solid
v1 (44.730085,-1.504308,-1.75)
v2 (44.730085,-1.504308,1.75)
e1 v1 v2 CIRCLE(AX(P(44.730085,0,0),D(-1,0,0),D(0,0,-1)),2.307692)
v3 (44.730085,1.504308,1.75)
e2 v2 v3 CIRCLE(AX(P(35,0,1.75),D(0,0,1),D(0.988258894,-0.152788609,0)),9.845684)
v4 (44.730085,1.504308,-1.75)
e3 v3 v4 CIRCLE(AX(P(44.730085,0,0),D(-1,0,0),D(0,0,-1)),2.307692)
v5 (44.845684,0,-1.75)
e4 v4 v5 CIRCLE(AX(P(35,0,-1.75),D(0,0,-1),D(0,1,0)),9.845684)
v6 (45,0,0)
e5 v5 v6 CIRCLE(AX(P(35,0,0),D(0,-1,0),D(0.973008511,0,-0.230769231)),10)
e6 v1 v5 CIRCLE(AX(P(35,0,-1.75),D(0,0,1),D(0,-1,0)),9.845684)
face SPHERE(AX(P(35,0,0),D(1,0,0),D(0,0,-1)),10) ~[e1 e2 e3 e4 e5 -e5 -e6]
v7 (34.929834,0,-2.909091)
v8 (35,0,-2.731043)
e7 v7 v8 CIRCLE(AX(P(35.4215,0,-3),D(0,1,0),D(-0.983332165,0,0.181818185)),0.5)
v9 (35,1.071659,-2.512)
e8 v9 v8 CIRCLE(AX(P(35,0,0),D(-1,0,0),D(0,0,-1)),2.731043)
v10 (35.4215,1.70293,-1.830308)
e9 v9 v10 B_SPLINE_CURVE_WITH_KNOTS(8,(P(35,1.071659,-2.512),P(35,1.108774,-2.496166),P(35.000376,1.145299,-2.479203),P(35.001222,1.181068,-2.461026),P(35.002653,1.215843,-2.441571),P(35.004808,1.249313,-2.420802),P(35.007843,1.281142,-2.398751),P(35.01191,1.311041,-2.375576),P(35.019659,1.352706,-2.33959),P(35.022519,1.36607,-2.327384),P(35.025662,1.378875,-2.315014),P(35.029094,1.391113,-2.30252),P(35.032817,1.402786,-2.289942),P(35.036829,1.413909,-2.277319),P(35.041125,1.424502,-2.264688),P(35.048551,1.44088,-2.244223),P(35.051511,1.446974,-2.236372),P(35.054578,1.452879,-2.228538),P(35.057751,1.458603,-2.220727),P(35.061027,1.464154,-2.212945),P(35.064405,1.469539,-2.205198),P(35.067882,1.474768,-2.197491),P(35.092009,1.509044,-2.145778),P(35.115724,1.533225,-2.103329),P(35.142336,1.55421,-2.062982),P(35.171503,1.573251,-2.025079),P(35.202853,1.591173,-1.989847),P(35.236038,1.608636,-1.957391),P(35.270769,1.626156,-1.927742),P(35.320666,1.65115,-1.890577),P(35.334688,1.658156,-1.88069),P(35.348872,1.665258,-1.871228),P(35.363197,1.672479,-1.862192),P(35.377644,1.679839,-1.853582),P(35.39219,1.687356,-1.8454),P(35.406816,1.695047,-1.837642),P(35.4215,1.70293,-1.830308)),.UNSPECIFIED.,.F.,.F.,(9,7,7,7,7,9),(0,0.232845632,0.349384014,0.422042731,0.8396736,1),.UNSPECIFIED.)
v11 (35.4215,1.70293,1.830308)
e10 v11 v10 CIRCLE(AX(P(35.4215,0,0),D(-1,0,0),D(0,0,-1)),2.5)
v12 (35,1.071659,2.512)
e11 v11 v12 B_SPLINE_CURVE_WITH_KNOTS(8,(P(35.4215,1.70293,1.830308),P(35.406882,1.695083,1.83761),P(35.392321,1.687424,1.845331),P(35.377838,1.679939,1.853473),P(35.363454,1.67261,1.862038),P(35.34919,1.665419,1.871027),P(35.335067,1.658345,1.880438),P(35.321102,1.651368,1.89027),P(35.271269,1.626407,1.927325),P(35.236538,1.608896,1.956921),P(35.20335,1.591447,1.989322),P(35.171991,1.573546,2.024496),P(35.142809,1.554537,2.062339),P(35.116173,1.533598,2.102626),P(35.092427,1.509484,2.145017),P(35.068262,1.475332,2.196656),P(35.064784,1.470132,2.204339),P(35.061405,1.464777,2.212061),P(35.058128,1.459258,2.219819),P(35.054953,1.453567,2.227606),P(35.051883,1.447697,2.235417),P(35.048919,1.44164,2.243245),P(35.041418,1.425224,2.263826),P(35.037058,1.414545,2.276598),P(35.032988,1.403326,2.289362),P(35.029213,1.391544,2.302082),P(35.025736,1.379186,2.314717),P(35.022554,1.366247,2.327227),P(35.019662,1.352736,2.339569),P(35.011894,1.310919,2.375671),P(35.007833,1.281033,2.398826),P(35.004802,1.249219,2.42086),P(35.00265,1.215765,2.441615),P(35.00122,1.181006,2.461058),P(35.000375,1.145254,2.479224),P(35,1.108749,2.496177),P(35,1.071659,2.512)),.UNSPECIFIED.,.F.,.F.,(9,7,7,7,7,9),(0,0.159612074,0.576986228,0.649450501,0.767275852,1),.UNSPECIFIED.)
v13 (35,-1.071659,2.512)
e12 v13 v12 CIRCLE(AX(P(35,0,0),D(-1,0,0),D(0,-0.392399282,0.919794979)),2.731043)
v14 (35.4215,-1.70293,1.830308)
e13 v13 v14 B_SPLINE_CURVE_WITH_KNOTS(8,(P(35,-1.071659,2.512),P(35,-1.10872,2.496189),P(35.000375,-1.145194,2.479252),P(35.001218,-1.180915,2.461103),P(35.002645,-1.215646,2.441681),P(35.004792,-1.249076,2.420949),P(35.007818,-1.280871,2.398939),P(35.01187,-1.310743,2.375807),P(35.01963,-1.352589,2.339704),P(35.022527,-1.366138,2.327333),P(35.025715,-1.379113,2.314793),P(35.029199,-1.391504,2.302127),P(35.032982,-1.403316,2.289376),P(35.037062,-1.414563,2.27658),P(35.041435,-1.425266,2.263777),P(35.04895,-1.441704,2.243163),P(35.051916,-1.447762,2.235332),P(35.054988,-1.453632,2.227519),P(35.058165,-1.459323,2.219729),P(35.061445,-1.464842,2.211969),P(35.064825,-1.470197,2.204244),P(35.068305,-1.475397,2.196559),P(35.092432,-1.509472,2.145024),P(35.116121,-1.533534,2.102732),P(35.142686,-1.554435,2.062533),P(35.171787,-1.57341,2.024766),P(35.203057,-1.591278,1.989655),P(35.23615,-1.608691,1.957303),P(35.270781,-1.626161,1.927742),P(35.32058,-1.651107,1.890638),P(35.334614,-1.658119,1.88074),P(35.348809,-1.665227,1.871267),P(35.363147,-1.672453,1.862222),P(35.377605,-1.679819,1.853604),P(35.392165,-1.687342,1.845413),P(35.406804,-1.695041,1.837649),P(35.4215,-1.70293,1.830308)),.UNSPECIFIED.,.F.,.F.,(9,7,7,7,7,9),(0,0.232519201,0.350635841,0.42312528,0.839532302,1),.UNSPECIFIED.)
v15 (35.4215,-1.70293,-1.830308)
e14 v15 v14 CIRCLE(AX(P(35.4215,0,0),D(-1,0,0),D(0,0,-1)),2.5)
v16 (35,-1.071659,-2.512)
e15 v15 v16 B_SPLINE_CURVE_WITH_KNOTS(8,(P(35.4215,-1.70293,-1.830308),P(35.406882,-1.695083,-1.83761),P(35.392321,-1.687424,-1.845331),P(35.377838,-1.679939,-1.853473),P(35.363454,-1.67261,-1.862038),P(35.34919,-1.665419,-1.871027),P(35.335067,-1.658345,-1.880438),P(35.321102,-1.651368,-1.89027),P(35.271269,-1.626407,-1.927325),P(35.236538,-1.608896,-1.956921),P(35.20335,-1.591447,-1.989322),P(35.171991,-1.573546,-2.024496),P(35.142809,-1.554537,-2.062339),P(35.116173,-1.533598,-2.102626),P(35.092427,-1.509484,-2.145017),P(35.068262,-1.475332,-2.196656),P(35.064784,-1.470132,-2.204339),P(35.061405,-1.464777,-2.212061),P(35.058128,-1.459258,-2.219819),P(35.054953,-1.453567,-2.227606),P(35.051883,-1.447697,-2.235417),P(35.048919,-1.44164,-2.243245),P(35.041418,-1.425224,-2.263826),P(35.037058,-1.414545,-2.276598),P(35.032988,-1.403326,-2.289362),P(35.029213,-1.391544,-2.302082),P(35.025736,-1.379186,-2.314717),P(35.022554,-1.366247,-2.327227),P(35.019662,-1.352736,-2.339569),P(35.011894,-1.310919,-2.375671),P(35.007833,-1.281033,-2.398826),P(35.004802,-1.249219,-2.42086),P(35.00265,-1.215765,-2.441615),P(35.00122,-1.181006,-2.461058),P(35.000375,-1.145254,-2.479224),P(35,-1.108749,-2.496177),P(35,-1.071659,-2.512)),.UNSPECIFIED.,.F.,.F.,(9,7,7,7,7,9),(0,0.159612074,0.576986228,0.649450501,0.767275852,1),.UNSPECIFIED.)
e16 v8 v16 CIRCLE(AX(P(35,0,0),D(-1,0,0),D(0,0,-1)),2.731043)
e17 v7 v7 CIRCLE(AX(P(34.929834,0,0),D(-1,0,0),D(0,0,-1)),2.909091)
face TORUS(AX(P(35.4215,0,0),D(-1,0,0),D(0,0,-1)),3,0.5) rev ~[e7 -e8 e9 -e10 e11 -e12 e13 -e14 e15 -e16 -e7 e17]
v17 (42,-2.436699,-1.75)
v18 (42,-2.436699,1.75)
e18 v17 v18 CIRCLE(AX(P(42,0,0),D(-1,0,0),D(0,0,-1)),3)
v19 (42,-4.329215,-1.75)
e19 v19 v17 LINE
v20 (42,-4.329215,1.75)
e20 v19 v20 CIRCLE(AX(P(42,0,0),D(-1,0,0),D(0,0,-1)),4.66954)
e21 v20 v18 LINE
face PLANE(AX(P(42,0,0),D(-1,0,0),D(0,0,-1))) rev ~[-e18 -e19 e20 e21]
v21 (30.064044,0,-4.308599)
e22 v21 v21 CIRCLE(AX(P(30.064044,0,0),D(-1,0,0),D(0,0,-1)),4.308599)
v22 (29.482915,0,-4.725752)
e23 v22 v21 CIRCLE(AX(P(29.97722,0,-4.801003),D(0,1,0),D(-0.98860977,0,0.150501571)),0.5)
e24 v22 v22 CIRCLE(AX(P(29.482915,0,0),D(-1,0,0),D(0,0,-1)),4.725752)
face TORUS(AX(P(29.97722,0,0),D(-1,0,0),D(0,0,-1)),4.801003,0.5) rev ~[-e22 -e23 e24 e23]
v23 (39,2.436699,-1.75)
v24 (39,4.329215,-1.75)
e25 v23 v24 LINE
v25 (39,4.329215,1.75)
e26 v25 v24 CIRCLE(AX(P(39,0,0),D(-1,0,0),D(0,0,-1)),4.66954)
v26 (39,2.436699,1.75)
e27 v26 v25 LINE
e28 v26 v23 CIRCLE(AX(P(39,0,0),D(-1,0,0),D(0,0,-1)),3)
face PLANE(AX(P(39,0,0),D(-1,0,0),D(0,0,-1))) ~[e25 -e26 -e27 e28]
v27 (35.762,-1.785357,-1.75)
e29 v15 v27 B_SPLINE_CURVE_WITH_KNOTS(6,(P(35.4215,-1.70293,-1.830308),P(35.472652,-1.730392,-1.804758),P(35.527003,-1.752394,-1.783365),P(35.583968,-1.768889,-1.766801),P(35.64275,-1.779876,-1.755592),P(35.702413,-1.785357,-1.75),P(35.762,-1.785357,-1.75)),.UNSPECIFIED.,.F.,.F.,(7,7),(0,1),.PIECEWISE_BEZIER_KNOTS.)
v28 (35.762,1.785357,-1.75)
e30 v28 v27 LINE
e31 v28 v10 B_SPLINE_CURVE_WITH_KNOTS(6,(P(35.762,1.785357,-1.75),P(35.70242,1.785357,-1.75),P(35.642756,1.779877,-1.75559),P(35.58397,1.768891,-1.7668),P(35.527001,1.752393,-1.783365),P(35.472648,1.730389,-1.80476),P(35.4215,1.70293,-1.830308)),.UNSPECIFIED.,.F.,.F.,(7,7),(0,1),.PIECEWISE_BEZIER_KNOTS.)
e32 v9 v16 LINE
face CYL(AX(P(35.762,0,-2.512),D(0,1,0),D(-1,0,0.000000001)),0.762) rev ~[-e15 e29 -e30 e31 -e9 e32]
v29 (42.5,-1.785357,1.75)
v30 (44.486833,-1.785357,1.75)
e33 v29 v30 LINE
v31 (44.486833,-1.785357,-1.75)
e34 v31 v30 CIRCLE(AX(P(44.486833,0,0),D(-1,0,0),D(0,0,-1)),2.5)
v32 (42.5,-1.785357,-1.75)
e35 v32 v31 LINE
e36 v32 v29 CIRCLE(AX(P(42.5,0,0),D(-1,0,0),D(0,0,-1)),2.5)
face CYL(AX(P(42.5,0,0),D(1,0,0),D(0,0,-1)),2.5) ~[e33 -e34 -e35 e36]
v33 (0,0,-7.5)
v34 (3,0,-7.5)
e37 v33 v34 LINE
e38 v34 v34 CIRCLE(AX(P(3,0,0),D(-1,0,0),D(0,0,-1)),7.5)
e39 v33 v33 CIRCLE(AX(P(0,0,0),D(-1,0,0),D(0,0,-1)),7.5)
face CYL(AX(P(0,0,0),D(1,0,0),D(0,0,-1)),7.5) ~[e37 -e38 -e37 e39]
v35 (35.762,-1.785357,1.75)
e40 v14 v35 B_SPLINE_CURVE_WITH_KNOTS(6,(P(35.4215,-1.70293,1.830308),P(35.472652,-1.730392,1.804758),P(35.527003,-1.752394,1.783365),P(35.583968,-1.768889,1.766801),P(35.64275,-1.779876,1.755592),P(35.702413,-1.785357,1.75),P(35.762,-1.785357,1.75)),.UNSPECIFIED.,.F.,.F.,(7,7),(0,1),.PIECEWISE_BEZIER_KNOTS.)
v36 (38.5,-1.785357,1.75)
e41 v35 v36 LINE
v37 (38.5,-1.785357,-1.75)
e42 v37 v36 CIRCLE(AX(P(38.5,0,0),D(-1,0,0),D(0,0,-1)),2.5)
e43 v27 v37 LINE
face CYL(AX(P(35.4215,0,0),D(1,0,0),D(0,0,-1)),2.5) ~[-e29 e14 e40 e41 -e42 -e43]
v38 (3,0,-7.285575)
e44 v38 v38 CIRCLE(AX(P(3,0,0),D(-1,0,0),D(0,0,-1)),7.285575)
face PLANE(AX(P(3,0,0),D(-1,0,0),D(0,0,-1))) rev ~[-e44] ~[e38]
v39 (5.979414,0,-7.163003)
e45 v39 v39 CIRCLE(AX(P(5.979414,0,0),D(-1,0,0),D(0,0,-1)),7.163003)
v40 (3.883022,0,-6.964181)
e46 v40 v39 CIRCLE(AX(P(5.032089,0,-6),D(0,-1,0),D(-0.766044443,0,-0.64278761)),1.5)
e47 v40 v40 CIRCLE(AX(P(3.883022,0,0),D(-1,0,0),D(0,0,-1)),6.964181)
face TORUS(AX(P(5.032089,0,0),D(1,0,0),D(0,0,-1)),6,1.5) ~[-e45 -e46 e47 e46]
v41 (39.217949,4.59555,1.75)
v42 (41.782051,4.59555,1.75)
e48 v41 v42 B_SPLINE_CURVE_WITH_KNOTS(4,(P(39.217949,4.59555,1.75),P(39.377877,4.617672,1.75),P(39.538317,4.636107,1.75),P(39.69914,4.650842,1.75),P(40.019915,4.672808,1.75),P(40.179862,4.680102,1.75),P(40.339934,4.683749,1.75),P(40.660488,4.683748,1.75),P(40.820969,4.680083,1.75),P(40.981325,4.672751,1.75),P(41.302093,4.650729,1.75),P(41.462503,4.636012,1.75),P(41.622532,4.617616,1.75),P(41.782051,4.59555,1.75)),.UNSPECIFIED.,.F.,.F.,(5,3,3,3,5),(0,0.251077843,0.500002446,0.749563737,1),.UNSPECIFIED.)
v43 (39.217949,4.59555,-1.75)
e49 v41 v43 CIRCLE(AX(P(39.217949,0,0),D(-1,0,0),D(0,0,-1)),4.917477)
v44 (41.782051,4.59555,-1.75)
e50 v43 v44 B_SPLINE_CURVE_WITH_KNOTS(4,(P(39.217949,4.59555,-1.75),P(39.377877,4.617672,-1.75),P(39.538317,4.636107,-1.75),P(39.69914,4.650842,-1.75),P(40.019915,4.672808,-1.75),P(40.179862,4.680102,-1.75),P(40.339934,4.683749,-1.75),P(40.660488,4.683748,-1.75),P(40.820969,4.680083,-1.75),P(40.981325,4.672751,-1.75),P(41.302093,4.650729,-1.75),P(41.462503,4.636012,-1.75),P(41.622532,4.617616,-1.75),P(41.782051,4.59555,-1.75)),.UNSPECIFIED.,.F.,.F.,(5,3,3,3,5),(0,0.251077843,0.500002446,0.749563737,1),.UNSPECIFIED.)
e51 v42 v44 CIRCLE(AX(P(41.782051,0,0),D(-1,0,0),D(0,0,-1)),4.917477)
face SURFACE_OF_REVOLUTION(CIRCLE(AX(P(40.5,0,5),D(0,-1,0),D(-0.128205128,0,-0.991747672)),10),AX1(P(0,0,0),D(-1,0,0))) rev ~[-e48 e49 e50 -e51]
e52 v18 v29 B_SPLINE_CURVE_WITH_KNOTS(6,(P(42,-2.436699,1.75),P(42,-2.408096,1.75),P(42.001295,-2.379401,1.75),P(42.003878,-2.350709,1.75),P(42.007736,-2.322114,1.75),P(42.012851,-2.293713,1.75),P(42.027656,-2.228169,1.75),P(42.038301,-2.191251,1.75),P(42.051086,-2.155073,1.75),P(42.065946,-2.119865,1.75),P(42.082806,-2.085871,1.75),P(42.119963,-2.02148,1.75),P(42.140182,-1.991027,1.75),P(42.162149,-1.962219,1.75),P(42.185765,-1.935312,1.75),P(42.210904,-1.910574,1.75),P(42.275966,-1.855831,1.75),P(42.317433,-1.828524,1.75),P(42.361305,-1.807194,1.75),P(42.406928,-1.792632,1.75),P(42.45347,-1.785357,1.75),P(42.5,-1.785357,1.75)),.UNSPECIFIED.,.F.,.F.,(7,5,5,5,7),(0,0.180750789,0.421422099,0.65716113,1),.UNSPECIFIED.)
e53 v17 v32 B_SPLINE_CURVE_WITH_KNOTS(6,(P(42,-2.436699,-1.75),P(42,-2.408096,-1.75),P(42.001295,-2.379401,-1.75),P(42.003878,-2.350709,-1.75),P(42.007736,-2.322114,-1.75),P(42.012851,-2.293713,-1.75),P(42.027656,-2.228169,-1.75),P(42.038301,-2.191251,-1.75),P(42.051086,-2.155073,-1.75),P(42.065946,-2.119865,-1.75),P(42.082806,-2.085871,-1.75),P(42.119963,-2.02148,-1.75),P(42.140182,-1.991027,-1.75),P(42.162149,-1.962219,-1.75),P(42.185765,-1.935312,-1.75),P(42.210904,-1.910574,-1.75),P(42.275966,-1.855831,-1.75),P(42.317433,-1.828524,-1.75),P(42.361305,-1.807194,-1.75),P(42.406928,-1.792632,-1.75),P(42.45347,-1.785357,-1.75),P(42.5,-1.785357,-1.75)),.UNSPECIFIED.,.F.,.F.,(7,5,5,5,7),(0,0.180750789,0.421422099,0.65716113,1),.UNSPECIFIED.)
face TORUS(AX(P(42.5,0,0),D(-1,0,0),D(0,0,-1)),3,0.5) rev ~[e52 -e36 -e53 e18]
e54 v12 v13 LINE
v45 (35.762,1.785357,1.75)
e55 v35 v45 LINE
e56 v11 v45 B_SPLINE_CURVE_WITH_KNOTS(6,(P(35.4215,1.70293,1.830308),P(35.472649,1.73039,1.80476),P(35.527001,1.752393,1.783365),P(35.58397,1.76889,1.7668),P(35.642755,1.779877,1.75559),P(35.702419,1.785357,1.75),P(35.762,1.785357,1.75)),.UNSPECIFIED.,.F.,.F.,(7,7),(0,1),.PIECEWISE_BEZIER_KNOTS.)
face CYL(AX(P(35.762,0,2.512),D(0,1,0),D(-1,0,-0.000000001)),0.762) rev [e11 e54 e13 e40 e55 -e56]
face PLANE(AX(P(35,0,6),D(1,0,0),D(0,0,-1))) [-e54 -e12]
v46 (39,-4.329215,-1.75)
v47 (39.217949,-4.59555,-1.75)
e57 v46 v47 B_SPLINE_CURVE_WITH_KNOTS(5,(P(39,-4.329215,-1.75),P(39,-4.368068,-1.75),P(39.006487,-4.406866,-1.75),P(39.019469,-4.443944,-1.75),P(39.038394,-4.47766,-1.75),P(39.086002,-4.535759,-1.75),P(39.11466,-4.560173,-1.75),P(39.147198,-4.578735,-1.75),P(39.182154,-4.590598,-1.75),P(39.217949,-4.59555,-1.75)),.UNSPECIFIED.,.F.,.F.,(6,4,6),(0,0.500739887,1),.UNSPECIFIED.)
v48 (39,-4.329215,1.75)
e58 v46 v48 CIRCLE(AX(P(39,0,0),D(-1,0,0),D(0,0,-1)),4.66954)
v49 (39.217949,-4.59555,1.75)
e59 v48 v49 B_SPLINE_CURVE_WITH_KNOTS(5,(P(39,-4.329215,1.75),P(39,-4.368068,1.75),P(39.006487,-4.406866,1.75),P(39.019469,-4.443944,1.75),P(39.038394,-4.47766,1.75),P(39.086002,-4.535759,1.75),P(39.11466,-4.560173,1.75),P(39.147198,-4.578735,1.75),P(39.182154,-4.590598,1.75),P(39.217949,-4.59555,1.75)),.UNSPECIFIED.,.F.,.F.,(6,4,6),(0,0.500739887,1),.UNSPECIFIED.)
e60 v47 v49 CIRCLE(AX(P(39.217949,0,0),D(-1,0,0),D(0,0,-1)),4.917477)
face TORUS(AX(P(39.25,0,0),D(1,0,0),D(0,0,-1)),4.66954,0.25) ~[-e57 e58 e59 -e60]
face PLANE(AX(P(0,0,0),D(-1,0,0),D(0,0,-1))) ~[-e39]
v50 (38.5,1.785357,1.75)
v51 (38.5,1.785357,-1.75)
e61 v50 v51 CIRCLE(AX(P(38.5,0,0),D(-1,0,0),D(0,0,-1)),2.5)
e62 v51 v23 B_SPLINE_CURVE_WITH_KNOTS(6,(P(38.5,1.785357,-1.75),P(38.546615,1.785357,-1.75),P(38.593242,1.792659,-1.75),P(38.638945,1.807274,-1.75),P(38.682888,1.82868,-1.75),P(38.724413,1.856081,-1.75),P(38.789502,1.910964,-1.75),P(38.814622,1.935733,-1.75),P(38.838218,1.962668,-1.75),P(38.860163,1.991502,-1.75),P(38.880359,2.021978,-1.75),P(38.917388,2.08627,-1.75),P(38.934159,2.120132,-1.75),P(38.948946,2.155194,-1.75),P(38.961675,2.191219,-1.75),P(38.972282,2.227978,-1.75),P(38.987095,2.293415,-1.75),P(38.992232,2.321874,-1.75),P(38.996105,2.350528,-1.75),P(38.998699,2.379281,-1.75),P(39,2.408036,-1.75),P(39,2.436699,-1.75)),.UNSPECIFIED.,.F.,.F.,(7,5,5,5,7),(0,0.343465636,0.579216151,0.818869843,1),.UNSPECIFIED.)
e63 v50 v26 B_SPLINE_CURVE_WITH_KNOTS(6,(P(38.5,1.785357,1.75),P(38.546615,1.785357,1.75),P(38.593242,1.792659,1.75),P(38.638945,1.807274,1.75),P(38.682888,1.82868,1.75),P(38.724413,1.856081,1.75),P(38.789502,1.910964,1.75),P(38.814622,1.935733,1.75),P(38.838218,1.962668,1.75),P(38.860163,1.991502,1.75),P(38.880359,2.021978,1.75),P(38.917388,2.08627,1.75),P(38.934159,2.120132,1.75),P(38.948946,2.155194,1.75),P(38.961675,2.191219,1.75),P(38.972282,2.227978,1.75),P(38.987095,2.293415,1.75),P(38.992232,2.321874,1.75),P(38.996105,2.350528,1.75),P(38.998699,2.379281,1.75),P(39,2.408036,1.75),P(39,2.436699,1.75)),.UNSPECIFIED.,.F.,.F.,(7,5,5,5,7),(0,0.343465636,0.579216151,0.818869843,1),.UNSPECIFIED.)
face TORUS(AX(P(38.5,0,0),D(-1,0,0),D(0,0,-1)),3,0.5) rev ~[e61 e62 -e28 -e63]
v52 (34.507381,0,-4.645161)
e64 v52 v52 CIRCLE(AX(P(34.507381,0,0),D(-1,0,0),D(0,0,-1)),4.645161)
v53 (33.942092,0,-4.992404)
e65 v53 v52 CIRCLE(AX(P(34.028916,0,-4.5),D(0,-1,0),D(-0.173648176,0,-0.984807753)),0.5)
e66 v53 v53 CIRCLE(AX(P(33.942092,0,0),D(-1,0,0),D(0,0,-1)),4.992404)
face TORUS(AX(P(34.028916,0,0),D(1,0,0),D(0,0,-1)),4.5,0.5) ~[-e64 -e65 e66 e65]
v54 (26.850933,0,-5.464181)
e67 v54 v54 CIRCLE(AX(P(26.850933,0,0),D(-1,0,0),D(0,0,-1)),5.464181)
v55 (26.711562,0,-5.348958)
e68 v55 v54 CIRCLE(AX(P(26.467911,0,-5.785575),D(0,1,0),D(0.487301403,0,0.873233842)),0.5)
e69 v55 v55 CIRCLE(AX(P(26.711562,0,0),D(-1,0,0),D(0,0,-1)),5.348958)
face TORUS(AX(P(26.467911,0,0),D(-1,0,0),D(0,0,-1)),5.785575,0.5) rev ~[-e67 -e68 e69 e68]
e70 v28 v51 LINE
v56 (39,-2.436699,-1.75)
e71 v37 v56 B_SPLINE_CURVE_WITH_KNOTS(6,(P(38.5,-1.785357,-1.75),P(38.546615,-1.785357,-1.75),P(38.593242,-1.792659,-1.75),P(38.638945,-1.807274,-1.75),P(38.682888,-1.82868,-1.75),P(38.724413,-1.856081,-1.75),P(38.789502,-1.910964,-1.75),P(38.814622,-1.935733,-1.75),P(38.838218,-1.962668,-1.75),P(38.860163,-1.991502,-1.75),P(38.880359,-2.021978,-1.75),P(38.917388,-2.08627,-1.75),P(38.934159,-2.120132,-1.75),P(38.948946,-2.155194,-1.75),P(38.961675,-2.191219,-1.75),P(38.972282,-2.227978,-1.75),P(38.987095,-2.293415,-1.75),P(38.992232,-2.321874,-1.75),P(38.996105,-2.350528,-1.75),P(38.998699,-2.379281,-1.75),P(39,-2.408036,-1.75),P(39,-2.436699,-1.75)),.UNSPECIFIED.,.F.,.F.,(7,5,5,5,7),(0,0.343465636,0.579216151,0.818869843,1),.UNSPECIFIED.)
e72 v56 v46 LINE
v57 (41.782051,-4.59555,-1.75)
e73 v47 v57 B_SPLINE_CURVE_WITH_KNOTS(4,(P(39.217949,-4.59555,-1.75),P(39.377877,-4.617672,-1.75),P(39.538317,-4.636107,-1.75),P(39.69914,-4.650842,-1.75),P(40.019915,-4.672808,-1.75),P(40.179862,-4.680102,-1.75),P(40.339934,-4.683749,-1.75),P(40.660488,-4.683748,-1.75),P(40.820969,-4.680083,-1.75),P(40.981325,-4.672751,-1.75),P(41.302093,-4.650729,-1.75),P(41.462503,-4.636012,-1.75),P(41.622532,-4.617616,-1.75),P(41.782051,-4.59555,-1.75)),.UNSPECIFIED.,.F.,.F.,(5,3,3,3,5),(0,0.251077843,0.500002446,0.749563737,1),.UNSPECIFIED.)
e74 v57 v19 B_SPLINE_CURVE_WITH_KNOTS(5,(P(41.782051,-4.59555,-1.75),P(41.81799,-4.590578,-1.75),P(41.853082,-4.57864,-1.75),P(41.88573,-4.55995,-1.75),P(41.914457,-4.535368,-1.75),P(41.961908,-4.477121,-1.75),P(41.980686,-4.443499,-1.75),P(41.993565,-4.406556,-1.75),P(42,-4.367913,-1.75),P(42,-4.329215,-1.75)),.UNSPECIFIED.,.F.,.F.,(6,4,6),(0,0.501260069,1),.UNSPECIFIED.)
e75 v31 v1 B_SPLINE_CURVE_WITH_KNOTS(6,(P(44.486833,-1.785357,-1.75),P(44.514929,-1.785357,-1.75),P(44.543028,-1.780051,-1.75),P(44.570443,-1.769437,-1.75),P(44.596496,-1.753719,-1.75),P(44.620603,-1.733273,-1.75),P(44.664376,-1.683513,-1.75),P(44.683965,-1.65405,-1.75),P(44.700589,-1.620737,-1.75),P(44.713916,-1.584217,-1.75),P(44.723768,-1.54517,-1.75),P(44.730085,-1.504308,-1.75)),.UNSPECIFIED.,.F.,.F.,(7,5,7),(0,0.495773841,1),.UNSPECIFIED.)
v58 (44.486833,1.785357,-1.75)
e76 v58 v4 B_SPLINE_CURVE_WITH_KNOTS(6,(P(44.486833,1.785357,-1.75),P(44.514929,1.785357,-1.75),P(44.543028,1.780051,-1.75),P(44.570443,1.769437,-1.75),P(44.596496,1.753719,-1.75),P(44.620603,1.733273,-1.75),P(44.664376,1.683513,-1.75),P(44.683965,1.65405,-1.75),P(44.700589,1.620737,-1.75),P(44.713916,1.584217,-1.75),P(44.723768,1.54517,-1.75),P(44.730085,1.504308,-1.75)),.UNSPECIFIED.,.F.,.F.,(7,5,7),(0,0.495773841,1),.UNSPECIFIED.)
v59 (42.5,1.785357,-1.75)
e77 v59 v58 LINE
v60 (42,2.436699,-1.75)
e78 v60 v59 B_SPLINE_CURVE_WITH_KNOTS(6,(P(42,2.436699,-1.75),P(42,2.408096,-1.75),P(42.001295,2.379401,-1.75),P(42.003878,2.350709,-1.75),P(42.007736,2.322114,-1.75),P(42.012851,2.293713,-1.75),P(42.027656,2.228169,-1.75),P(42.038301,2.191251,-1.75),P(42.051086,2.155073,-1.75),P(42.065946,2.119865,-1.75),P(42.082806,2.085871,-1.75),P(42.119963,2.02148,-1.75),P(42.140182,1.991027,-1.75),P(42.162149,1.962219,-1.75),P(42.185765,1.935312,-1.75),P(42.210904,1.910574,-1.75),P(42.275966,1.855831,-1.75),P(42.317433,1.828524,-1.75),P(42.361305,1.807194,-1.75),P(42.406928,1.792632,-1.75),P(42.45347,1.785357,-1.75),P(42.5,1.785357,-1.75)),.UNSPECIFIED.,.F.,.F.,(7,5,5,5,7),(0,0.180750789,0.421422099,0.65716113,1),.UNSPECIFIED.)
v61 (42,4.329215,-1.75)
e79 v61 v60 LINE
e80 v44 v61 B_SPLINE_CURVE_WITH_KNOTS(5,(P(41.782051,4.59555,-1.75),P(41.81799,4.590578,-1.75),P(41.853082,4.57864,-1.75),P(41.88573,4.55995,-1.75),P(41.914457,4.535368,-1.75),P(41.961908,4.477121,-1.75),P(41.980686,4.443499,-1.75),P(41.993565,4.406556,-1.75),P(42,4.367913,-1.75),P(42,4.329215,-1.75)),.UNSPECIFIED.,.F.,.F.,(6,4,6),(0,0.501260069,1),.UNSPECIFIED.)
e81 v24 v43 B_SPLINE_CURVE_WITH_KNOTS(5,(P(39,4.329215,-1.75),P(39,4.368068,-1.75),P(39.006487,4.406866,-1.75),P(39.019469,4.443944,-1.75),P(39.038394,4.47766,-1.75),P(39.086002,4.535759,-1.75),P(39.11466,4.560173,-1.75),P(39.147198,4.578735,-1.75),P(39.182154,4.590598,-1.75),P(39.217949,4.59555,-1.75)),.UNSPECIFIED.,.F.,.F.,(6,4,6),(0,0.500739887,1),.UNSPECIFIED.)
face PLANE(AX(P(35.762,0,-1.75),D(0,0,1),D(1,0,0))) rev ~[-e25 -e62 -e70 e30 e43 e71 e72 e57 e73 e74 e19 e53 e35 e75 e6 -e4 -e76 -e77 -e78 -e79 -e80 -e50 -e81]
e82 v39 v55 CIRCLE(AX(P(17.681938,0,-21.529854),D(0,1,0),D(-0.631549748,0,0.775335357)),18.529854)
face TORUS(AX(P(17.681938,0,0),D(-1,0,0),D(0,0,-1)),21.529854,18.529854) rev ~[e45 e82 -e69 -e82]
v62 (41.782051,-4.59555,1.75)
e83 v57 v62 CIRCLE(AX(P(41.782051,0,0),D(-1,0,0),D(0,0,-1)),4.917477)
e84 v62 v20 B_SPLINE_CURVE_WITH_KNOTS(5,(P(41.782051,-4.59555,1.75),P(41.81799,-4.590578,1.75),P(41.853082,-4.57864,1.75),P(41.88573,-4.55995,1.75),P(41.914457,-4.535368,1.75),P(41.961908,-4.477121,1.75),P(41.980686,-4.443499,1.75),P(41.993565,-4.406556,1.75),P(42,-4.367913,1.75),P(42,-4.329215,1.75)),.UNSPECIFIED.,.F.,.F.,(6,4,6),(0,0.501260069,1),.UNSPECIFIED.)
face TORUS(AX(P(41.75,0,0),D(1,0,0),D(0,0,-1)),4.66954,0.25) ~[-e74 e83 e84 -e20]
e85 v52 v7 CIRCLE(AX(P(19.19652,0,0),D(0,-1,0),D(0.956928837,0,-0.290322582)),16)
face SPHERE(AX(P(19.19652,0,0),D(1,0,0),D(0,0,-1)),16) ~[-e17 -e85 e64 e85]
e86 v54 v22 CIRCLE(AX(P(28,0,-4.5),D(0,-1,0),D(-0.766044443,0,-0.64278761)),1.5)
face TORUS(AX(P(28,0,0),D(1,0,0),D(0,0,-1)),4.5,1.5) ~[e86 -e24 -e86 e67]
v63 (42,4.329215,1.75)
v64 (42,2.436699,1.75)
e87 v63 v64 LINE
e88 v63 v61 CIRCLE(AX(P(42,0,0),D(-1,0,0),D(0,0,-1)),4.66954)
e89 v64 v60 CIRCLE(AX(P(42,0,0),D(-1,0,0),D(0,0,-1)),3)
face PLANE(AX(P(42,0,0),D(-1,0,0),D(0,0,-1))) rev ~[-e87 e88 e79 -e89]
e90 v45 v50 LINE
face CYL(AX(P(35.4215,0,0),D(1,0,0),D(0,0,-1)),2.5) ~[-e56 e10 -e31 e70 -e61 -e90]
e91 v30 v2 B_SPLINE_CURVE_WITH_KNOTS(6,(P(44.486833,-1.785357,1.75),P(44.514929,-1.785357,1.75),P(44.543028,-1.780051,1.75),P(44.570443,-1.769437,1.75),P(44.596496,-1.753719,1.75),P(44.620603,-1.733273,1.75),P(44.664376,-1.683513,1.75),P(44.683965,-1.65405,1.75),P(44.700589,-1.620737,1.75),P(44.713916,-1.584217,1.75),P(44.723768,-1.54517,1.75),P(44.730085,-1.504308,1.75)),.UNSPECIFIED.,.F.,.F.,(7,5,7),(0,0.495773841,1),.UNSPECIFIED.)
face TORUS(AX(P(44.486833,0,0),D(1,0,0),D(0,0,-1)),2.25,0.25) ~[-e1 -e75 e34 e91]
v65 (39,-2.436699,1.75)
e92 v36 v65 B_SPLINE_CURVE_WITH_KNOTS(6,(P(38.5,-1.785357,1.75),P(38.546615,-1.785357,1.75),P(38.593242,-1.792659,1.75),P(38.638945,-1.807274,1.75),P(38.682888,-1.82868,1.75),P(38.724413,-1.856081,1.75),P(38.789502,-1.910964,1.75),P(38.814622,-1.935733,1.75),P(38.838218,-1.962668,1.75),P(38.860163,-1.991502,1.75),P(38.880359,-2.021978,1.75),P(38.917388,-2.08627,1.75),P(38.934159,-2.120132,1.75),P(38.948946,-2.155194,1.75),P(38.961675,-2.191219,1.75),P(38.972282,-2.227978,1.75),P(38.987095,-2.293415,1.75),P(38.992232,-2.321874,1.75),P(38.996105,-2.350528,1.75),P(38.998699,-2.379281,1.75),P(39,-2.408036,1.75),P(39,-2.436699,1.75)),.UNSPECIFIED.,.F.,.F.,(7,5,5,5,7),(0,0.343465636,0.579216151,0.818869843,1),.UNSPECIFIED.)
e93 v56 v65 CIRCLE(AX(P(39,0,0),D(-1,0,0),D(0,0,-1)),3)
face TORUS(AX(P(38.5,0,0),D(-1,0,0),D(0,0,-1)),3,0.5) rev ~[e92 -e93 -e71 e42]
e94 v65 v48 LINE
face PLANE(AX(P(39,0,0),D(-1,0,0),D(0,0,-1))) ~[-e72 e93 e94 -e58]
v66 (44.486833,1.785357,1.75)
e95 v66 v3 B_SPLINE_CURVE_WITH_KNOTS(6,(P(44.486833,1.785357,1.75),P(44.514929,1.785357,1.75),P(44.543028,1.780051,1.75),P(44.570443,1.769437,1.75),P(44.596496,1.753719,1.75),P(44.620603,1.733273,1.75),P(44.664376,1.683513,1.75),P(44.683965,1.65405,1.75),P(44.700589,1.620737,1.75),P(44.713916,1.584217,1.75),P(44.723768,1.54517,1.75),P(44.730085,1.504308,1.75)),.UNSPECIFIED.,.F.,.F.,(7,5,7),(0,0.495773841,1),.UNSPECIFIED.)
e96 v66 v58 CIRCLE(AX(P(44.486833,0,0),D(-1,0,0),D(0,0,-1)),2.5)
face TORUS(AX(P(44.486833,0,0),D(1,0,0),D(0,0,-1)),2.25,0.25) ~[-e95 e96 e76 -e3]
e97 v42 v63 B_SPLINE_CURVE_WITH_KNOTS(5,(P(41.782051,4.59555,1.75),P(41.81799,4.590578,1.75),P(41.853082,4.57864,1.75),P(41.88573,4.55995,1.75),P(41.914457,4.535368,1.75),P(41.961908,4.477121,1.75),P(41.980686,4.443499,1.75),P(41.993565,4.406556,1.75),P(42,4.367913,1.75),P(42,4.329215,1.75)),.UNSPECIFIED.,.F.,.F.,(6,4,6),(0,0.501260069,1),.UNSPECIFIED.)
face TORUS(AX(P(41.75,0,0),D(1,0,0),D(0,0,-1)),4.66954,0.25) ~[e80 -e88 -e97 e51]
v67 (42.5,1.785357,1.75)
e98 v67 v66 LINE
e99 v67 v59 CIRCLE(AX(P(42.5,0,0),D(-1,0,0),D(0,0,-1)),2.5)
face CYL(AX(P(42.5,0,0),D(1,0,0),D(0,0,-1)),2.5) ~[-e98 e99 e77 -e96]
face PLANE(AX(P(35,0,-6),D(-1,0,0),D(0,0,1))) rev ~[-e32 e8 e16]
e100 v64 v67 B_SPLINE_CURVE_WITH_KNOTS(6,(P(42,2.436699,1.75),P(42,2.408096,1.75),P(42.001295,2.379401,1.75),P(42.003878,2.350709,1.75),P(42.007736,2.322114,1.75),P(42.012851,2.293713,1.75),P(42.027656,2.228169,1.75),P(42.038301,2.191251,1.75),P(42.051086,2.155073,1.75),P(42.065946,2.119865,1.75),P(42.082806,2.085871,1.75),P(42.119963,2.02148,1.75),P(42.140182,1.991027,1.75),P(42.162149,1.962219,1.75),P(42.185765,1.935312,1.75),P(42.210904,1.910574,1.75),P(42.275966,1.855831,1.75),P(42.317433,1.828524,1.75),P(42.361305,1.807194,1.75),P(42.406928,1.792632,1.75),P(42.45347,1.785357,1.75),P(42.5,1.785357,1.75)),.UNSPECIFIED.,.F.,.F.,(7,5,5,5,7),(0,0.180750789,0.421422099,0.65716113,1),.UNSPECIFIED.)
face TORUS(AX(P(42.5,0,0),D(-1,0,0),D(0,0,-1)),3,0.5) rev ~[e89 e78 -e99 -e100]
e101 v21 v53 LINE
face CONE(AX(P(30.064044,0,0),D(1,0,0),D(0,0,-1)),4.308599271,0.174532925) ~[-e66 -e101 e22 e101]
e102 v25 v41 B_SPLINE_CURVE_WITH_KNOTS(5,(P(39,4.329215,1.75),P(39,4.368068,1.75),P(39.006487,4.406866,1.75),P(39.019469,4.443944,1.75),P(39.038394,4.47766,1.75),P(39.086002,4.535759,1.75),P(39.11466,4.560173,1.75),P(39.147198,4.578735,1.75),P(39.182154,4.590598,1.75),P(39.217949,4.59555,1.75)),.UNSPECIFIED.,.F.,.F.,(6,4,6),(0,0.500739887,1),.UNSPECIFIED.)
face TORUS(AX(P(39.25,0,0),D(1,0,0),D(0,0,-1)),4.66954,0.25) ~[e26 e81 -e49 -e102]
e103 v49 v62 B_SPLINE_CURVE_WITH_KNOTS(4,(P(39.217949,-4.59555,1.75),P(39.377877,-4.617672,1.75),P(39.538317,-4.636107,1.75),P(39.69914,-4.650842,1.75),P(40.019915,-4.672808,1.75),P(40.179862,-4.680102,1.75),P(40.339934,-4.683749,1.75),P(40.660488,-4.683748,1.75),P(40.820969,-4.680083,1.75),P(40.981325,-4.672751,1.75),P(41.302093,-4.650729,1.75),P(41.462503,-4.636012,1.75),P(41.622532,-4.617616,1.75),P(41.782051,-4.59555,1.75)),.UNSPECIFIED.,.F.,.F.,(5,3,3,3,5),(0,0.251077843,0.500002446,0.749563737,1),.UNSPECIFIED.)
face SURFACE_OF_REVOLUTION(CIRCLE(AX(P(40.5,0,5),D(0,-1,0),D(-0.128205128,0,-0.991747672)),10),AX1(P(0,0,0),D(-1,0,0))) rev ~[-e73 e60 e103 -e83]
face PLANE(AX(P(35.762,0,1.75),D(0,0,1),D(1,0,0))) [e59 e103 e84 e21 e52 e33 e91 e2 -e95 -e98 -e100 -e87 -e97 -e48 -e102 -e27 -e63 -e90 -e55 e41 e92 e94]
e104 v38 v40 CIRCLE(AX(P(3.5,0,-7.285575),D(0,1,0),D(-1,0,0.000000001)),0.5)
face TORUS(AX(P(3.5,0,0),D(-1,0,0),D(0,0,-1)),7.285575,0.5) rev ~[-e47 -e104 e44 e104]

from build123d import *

# Parameters (mm, degrees)
CUT_EXTRUDE1_DEPTH      = 47.233105055
CUT_EXTRUDE1_DEPTH_BACK = 47.233105055


with BuildPart() as part:
    # Sketch1 → Revolve1 (revolve)
    with BuildSketch(Plane.XY):
        with BuildLine():
            Line((0, 0), (0, -7.5))
            Line((0, -7.5), (3, -7.5))
            Line((3, -7.5), (3, -7.285575219))
            ThreePointArc((3, -7.285575219), (3.328989928, -6.815728909), (3.883022222, -6.964181415))
            ThreePointArc((3.883022222, -6.964181415), (4.890464481, -7.493299209), (5.979413508, -7.163003036))
            ThreePointArc((5.979413508, -7.163003036), (16.066763392, -3.070528449), (26.71156181, -5.348958295))
            ThreePointArc((26.71156181, -5.348958295), (26.786499921, -5.400216722), (26.850933335, -5.464181415))
            ThreePointArc((26.850933335, -5.464181415), (28.405194999, -5.944235789), (29.482914654, -4.725752361))
            ThreePointArc((29.482914654, -4.725752361), (29.685647378, -4.39481886), (30.064043628, -4.308599271))
            Line((30.064043628, -4.308599271), (33.942092256, -4.992403877))
            ThreePointArc((33.942092256, -4.992403877), (34.290622077, -4.926040033), (34.507380763, -4.64516129))
            ThreePointArc((34.507380763, -4.64516129), (34.742859832, -3.783027658), (34.929834027, -2.909090909))
            ThreePointArc((34.929834027, -2.909090909), (35.101699036, -2.615646943), (35.42150011, -2.5))
            Line((35.42150011, -2.5), (38.5, -2.5))
            ThreePointArc((38.5, -2.5), (38.853553391, -2.646446609), (39, -3))
            Line((39, -3), (39, -4.669539803))
            ThreePointArc((39, -4.669539803), (39.062233096, -4.834596126), (39.217948718, -4.917476721))
            ThreePointArc((39.217948718, -4.917476721), (40.5, -5), (41.782051282, -4.917476721))
            ThreePointArc((41.782051282, -4.917476721), (41.937766904, -4.834596126), (42, -4.669539803))
            Line((42, -4.669539803), (42, -3))
            ThreePointArc((42, -3), (42.146446609, -2.646446609), (42.5, -2.5))
            Line((42.5, -2.5), (44.486832981, -2.5))
            ThreePointArc((44.486832981, -2.5), (44.641876399, -2.446116135), (44.730085108, -2.307692308))
            ThreePointArc((44.730085108, -2.307692308), (44.932292059, -1.161711866), (45, 0))
            Line((45, 0), (0, 0))
        make_face()
    revolve(axis=Axis((0, 0, 0), (-1, 0, 0)))

    # Sketch2 → Cut-Extrude1 (cut, two sides: drawn at the far end of the back side and taken through both)
    with BuildSketch(Plane(origin=(0, 0, 0), x_dir=(1, 0, 0), z_dir=(0, 1, 0)).offset(-CUT_EXTRUDE1_DEPTH_BACK)):
        with BuildLine():
            Line((45, -6), (35, -6))
            Line((35, -6), (35, -2.512))
            ThreePointArc((35, -2.512), (35.223184633, -1.973184633), (35.762, -1.75))
            Line((35.762, -1.75), (45, -1.75))
            Line((45, -1.75), (45, -6))
        make_face()
        with BuildLine():
            Line((35, 6), (35, 2.512))
            ThreePointArc((35, 2.512), (35.223184633, 1.973184633), (35.762, 1.75))
            Line((35.762, 1.75), (45, 1.75))
            Line((45, 1.75), (45, 6))
            Line((45, 6), (35, 6))
        make_face()
    extrude(amount=CUT_EXTRUDE1_DEPTH + CUT_EXTRUDE1_DEPTH_BACK, mode=Mode.SUBTRACT)


solid = part.part
